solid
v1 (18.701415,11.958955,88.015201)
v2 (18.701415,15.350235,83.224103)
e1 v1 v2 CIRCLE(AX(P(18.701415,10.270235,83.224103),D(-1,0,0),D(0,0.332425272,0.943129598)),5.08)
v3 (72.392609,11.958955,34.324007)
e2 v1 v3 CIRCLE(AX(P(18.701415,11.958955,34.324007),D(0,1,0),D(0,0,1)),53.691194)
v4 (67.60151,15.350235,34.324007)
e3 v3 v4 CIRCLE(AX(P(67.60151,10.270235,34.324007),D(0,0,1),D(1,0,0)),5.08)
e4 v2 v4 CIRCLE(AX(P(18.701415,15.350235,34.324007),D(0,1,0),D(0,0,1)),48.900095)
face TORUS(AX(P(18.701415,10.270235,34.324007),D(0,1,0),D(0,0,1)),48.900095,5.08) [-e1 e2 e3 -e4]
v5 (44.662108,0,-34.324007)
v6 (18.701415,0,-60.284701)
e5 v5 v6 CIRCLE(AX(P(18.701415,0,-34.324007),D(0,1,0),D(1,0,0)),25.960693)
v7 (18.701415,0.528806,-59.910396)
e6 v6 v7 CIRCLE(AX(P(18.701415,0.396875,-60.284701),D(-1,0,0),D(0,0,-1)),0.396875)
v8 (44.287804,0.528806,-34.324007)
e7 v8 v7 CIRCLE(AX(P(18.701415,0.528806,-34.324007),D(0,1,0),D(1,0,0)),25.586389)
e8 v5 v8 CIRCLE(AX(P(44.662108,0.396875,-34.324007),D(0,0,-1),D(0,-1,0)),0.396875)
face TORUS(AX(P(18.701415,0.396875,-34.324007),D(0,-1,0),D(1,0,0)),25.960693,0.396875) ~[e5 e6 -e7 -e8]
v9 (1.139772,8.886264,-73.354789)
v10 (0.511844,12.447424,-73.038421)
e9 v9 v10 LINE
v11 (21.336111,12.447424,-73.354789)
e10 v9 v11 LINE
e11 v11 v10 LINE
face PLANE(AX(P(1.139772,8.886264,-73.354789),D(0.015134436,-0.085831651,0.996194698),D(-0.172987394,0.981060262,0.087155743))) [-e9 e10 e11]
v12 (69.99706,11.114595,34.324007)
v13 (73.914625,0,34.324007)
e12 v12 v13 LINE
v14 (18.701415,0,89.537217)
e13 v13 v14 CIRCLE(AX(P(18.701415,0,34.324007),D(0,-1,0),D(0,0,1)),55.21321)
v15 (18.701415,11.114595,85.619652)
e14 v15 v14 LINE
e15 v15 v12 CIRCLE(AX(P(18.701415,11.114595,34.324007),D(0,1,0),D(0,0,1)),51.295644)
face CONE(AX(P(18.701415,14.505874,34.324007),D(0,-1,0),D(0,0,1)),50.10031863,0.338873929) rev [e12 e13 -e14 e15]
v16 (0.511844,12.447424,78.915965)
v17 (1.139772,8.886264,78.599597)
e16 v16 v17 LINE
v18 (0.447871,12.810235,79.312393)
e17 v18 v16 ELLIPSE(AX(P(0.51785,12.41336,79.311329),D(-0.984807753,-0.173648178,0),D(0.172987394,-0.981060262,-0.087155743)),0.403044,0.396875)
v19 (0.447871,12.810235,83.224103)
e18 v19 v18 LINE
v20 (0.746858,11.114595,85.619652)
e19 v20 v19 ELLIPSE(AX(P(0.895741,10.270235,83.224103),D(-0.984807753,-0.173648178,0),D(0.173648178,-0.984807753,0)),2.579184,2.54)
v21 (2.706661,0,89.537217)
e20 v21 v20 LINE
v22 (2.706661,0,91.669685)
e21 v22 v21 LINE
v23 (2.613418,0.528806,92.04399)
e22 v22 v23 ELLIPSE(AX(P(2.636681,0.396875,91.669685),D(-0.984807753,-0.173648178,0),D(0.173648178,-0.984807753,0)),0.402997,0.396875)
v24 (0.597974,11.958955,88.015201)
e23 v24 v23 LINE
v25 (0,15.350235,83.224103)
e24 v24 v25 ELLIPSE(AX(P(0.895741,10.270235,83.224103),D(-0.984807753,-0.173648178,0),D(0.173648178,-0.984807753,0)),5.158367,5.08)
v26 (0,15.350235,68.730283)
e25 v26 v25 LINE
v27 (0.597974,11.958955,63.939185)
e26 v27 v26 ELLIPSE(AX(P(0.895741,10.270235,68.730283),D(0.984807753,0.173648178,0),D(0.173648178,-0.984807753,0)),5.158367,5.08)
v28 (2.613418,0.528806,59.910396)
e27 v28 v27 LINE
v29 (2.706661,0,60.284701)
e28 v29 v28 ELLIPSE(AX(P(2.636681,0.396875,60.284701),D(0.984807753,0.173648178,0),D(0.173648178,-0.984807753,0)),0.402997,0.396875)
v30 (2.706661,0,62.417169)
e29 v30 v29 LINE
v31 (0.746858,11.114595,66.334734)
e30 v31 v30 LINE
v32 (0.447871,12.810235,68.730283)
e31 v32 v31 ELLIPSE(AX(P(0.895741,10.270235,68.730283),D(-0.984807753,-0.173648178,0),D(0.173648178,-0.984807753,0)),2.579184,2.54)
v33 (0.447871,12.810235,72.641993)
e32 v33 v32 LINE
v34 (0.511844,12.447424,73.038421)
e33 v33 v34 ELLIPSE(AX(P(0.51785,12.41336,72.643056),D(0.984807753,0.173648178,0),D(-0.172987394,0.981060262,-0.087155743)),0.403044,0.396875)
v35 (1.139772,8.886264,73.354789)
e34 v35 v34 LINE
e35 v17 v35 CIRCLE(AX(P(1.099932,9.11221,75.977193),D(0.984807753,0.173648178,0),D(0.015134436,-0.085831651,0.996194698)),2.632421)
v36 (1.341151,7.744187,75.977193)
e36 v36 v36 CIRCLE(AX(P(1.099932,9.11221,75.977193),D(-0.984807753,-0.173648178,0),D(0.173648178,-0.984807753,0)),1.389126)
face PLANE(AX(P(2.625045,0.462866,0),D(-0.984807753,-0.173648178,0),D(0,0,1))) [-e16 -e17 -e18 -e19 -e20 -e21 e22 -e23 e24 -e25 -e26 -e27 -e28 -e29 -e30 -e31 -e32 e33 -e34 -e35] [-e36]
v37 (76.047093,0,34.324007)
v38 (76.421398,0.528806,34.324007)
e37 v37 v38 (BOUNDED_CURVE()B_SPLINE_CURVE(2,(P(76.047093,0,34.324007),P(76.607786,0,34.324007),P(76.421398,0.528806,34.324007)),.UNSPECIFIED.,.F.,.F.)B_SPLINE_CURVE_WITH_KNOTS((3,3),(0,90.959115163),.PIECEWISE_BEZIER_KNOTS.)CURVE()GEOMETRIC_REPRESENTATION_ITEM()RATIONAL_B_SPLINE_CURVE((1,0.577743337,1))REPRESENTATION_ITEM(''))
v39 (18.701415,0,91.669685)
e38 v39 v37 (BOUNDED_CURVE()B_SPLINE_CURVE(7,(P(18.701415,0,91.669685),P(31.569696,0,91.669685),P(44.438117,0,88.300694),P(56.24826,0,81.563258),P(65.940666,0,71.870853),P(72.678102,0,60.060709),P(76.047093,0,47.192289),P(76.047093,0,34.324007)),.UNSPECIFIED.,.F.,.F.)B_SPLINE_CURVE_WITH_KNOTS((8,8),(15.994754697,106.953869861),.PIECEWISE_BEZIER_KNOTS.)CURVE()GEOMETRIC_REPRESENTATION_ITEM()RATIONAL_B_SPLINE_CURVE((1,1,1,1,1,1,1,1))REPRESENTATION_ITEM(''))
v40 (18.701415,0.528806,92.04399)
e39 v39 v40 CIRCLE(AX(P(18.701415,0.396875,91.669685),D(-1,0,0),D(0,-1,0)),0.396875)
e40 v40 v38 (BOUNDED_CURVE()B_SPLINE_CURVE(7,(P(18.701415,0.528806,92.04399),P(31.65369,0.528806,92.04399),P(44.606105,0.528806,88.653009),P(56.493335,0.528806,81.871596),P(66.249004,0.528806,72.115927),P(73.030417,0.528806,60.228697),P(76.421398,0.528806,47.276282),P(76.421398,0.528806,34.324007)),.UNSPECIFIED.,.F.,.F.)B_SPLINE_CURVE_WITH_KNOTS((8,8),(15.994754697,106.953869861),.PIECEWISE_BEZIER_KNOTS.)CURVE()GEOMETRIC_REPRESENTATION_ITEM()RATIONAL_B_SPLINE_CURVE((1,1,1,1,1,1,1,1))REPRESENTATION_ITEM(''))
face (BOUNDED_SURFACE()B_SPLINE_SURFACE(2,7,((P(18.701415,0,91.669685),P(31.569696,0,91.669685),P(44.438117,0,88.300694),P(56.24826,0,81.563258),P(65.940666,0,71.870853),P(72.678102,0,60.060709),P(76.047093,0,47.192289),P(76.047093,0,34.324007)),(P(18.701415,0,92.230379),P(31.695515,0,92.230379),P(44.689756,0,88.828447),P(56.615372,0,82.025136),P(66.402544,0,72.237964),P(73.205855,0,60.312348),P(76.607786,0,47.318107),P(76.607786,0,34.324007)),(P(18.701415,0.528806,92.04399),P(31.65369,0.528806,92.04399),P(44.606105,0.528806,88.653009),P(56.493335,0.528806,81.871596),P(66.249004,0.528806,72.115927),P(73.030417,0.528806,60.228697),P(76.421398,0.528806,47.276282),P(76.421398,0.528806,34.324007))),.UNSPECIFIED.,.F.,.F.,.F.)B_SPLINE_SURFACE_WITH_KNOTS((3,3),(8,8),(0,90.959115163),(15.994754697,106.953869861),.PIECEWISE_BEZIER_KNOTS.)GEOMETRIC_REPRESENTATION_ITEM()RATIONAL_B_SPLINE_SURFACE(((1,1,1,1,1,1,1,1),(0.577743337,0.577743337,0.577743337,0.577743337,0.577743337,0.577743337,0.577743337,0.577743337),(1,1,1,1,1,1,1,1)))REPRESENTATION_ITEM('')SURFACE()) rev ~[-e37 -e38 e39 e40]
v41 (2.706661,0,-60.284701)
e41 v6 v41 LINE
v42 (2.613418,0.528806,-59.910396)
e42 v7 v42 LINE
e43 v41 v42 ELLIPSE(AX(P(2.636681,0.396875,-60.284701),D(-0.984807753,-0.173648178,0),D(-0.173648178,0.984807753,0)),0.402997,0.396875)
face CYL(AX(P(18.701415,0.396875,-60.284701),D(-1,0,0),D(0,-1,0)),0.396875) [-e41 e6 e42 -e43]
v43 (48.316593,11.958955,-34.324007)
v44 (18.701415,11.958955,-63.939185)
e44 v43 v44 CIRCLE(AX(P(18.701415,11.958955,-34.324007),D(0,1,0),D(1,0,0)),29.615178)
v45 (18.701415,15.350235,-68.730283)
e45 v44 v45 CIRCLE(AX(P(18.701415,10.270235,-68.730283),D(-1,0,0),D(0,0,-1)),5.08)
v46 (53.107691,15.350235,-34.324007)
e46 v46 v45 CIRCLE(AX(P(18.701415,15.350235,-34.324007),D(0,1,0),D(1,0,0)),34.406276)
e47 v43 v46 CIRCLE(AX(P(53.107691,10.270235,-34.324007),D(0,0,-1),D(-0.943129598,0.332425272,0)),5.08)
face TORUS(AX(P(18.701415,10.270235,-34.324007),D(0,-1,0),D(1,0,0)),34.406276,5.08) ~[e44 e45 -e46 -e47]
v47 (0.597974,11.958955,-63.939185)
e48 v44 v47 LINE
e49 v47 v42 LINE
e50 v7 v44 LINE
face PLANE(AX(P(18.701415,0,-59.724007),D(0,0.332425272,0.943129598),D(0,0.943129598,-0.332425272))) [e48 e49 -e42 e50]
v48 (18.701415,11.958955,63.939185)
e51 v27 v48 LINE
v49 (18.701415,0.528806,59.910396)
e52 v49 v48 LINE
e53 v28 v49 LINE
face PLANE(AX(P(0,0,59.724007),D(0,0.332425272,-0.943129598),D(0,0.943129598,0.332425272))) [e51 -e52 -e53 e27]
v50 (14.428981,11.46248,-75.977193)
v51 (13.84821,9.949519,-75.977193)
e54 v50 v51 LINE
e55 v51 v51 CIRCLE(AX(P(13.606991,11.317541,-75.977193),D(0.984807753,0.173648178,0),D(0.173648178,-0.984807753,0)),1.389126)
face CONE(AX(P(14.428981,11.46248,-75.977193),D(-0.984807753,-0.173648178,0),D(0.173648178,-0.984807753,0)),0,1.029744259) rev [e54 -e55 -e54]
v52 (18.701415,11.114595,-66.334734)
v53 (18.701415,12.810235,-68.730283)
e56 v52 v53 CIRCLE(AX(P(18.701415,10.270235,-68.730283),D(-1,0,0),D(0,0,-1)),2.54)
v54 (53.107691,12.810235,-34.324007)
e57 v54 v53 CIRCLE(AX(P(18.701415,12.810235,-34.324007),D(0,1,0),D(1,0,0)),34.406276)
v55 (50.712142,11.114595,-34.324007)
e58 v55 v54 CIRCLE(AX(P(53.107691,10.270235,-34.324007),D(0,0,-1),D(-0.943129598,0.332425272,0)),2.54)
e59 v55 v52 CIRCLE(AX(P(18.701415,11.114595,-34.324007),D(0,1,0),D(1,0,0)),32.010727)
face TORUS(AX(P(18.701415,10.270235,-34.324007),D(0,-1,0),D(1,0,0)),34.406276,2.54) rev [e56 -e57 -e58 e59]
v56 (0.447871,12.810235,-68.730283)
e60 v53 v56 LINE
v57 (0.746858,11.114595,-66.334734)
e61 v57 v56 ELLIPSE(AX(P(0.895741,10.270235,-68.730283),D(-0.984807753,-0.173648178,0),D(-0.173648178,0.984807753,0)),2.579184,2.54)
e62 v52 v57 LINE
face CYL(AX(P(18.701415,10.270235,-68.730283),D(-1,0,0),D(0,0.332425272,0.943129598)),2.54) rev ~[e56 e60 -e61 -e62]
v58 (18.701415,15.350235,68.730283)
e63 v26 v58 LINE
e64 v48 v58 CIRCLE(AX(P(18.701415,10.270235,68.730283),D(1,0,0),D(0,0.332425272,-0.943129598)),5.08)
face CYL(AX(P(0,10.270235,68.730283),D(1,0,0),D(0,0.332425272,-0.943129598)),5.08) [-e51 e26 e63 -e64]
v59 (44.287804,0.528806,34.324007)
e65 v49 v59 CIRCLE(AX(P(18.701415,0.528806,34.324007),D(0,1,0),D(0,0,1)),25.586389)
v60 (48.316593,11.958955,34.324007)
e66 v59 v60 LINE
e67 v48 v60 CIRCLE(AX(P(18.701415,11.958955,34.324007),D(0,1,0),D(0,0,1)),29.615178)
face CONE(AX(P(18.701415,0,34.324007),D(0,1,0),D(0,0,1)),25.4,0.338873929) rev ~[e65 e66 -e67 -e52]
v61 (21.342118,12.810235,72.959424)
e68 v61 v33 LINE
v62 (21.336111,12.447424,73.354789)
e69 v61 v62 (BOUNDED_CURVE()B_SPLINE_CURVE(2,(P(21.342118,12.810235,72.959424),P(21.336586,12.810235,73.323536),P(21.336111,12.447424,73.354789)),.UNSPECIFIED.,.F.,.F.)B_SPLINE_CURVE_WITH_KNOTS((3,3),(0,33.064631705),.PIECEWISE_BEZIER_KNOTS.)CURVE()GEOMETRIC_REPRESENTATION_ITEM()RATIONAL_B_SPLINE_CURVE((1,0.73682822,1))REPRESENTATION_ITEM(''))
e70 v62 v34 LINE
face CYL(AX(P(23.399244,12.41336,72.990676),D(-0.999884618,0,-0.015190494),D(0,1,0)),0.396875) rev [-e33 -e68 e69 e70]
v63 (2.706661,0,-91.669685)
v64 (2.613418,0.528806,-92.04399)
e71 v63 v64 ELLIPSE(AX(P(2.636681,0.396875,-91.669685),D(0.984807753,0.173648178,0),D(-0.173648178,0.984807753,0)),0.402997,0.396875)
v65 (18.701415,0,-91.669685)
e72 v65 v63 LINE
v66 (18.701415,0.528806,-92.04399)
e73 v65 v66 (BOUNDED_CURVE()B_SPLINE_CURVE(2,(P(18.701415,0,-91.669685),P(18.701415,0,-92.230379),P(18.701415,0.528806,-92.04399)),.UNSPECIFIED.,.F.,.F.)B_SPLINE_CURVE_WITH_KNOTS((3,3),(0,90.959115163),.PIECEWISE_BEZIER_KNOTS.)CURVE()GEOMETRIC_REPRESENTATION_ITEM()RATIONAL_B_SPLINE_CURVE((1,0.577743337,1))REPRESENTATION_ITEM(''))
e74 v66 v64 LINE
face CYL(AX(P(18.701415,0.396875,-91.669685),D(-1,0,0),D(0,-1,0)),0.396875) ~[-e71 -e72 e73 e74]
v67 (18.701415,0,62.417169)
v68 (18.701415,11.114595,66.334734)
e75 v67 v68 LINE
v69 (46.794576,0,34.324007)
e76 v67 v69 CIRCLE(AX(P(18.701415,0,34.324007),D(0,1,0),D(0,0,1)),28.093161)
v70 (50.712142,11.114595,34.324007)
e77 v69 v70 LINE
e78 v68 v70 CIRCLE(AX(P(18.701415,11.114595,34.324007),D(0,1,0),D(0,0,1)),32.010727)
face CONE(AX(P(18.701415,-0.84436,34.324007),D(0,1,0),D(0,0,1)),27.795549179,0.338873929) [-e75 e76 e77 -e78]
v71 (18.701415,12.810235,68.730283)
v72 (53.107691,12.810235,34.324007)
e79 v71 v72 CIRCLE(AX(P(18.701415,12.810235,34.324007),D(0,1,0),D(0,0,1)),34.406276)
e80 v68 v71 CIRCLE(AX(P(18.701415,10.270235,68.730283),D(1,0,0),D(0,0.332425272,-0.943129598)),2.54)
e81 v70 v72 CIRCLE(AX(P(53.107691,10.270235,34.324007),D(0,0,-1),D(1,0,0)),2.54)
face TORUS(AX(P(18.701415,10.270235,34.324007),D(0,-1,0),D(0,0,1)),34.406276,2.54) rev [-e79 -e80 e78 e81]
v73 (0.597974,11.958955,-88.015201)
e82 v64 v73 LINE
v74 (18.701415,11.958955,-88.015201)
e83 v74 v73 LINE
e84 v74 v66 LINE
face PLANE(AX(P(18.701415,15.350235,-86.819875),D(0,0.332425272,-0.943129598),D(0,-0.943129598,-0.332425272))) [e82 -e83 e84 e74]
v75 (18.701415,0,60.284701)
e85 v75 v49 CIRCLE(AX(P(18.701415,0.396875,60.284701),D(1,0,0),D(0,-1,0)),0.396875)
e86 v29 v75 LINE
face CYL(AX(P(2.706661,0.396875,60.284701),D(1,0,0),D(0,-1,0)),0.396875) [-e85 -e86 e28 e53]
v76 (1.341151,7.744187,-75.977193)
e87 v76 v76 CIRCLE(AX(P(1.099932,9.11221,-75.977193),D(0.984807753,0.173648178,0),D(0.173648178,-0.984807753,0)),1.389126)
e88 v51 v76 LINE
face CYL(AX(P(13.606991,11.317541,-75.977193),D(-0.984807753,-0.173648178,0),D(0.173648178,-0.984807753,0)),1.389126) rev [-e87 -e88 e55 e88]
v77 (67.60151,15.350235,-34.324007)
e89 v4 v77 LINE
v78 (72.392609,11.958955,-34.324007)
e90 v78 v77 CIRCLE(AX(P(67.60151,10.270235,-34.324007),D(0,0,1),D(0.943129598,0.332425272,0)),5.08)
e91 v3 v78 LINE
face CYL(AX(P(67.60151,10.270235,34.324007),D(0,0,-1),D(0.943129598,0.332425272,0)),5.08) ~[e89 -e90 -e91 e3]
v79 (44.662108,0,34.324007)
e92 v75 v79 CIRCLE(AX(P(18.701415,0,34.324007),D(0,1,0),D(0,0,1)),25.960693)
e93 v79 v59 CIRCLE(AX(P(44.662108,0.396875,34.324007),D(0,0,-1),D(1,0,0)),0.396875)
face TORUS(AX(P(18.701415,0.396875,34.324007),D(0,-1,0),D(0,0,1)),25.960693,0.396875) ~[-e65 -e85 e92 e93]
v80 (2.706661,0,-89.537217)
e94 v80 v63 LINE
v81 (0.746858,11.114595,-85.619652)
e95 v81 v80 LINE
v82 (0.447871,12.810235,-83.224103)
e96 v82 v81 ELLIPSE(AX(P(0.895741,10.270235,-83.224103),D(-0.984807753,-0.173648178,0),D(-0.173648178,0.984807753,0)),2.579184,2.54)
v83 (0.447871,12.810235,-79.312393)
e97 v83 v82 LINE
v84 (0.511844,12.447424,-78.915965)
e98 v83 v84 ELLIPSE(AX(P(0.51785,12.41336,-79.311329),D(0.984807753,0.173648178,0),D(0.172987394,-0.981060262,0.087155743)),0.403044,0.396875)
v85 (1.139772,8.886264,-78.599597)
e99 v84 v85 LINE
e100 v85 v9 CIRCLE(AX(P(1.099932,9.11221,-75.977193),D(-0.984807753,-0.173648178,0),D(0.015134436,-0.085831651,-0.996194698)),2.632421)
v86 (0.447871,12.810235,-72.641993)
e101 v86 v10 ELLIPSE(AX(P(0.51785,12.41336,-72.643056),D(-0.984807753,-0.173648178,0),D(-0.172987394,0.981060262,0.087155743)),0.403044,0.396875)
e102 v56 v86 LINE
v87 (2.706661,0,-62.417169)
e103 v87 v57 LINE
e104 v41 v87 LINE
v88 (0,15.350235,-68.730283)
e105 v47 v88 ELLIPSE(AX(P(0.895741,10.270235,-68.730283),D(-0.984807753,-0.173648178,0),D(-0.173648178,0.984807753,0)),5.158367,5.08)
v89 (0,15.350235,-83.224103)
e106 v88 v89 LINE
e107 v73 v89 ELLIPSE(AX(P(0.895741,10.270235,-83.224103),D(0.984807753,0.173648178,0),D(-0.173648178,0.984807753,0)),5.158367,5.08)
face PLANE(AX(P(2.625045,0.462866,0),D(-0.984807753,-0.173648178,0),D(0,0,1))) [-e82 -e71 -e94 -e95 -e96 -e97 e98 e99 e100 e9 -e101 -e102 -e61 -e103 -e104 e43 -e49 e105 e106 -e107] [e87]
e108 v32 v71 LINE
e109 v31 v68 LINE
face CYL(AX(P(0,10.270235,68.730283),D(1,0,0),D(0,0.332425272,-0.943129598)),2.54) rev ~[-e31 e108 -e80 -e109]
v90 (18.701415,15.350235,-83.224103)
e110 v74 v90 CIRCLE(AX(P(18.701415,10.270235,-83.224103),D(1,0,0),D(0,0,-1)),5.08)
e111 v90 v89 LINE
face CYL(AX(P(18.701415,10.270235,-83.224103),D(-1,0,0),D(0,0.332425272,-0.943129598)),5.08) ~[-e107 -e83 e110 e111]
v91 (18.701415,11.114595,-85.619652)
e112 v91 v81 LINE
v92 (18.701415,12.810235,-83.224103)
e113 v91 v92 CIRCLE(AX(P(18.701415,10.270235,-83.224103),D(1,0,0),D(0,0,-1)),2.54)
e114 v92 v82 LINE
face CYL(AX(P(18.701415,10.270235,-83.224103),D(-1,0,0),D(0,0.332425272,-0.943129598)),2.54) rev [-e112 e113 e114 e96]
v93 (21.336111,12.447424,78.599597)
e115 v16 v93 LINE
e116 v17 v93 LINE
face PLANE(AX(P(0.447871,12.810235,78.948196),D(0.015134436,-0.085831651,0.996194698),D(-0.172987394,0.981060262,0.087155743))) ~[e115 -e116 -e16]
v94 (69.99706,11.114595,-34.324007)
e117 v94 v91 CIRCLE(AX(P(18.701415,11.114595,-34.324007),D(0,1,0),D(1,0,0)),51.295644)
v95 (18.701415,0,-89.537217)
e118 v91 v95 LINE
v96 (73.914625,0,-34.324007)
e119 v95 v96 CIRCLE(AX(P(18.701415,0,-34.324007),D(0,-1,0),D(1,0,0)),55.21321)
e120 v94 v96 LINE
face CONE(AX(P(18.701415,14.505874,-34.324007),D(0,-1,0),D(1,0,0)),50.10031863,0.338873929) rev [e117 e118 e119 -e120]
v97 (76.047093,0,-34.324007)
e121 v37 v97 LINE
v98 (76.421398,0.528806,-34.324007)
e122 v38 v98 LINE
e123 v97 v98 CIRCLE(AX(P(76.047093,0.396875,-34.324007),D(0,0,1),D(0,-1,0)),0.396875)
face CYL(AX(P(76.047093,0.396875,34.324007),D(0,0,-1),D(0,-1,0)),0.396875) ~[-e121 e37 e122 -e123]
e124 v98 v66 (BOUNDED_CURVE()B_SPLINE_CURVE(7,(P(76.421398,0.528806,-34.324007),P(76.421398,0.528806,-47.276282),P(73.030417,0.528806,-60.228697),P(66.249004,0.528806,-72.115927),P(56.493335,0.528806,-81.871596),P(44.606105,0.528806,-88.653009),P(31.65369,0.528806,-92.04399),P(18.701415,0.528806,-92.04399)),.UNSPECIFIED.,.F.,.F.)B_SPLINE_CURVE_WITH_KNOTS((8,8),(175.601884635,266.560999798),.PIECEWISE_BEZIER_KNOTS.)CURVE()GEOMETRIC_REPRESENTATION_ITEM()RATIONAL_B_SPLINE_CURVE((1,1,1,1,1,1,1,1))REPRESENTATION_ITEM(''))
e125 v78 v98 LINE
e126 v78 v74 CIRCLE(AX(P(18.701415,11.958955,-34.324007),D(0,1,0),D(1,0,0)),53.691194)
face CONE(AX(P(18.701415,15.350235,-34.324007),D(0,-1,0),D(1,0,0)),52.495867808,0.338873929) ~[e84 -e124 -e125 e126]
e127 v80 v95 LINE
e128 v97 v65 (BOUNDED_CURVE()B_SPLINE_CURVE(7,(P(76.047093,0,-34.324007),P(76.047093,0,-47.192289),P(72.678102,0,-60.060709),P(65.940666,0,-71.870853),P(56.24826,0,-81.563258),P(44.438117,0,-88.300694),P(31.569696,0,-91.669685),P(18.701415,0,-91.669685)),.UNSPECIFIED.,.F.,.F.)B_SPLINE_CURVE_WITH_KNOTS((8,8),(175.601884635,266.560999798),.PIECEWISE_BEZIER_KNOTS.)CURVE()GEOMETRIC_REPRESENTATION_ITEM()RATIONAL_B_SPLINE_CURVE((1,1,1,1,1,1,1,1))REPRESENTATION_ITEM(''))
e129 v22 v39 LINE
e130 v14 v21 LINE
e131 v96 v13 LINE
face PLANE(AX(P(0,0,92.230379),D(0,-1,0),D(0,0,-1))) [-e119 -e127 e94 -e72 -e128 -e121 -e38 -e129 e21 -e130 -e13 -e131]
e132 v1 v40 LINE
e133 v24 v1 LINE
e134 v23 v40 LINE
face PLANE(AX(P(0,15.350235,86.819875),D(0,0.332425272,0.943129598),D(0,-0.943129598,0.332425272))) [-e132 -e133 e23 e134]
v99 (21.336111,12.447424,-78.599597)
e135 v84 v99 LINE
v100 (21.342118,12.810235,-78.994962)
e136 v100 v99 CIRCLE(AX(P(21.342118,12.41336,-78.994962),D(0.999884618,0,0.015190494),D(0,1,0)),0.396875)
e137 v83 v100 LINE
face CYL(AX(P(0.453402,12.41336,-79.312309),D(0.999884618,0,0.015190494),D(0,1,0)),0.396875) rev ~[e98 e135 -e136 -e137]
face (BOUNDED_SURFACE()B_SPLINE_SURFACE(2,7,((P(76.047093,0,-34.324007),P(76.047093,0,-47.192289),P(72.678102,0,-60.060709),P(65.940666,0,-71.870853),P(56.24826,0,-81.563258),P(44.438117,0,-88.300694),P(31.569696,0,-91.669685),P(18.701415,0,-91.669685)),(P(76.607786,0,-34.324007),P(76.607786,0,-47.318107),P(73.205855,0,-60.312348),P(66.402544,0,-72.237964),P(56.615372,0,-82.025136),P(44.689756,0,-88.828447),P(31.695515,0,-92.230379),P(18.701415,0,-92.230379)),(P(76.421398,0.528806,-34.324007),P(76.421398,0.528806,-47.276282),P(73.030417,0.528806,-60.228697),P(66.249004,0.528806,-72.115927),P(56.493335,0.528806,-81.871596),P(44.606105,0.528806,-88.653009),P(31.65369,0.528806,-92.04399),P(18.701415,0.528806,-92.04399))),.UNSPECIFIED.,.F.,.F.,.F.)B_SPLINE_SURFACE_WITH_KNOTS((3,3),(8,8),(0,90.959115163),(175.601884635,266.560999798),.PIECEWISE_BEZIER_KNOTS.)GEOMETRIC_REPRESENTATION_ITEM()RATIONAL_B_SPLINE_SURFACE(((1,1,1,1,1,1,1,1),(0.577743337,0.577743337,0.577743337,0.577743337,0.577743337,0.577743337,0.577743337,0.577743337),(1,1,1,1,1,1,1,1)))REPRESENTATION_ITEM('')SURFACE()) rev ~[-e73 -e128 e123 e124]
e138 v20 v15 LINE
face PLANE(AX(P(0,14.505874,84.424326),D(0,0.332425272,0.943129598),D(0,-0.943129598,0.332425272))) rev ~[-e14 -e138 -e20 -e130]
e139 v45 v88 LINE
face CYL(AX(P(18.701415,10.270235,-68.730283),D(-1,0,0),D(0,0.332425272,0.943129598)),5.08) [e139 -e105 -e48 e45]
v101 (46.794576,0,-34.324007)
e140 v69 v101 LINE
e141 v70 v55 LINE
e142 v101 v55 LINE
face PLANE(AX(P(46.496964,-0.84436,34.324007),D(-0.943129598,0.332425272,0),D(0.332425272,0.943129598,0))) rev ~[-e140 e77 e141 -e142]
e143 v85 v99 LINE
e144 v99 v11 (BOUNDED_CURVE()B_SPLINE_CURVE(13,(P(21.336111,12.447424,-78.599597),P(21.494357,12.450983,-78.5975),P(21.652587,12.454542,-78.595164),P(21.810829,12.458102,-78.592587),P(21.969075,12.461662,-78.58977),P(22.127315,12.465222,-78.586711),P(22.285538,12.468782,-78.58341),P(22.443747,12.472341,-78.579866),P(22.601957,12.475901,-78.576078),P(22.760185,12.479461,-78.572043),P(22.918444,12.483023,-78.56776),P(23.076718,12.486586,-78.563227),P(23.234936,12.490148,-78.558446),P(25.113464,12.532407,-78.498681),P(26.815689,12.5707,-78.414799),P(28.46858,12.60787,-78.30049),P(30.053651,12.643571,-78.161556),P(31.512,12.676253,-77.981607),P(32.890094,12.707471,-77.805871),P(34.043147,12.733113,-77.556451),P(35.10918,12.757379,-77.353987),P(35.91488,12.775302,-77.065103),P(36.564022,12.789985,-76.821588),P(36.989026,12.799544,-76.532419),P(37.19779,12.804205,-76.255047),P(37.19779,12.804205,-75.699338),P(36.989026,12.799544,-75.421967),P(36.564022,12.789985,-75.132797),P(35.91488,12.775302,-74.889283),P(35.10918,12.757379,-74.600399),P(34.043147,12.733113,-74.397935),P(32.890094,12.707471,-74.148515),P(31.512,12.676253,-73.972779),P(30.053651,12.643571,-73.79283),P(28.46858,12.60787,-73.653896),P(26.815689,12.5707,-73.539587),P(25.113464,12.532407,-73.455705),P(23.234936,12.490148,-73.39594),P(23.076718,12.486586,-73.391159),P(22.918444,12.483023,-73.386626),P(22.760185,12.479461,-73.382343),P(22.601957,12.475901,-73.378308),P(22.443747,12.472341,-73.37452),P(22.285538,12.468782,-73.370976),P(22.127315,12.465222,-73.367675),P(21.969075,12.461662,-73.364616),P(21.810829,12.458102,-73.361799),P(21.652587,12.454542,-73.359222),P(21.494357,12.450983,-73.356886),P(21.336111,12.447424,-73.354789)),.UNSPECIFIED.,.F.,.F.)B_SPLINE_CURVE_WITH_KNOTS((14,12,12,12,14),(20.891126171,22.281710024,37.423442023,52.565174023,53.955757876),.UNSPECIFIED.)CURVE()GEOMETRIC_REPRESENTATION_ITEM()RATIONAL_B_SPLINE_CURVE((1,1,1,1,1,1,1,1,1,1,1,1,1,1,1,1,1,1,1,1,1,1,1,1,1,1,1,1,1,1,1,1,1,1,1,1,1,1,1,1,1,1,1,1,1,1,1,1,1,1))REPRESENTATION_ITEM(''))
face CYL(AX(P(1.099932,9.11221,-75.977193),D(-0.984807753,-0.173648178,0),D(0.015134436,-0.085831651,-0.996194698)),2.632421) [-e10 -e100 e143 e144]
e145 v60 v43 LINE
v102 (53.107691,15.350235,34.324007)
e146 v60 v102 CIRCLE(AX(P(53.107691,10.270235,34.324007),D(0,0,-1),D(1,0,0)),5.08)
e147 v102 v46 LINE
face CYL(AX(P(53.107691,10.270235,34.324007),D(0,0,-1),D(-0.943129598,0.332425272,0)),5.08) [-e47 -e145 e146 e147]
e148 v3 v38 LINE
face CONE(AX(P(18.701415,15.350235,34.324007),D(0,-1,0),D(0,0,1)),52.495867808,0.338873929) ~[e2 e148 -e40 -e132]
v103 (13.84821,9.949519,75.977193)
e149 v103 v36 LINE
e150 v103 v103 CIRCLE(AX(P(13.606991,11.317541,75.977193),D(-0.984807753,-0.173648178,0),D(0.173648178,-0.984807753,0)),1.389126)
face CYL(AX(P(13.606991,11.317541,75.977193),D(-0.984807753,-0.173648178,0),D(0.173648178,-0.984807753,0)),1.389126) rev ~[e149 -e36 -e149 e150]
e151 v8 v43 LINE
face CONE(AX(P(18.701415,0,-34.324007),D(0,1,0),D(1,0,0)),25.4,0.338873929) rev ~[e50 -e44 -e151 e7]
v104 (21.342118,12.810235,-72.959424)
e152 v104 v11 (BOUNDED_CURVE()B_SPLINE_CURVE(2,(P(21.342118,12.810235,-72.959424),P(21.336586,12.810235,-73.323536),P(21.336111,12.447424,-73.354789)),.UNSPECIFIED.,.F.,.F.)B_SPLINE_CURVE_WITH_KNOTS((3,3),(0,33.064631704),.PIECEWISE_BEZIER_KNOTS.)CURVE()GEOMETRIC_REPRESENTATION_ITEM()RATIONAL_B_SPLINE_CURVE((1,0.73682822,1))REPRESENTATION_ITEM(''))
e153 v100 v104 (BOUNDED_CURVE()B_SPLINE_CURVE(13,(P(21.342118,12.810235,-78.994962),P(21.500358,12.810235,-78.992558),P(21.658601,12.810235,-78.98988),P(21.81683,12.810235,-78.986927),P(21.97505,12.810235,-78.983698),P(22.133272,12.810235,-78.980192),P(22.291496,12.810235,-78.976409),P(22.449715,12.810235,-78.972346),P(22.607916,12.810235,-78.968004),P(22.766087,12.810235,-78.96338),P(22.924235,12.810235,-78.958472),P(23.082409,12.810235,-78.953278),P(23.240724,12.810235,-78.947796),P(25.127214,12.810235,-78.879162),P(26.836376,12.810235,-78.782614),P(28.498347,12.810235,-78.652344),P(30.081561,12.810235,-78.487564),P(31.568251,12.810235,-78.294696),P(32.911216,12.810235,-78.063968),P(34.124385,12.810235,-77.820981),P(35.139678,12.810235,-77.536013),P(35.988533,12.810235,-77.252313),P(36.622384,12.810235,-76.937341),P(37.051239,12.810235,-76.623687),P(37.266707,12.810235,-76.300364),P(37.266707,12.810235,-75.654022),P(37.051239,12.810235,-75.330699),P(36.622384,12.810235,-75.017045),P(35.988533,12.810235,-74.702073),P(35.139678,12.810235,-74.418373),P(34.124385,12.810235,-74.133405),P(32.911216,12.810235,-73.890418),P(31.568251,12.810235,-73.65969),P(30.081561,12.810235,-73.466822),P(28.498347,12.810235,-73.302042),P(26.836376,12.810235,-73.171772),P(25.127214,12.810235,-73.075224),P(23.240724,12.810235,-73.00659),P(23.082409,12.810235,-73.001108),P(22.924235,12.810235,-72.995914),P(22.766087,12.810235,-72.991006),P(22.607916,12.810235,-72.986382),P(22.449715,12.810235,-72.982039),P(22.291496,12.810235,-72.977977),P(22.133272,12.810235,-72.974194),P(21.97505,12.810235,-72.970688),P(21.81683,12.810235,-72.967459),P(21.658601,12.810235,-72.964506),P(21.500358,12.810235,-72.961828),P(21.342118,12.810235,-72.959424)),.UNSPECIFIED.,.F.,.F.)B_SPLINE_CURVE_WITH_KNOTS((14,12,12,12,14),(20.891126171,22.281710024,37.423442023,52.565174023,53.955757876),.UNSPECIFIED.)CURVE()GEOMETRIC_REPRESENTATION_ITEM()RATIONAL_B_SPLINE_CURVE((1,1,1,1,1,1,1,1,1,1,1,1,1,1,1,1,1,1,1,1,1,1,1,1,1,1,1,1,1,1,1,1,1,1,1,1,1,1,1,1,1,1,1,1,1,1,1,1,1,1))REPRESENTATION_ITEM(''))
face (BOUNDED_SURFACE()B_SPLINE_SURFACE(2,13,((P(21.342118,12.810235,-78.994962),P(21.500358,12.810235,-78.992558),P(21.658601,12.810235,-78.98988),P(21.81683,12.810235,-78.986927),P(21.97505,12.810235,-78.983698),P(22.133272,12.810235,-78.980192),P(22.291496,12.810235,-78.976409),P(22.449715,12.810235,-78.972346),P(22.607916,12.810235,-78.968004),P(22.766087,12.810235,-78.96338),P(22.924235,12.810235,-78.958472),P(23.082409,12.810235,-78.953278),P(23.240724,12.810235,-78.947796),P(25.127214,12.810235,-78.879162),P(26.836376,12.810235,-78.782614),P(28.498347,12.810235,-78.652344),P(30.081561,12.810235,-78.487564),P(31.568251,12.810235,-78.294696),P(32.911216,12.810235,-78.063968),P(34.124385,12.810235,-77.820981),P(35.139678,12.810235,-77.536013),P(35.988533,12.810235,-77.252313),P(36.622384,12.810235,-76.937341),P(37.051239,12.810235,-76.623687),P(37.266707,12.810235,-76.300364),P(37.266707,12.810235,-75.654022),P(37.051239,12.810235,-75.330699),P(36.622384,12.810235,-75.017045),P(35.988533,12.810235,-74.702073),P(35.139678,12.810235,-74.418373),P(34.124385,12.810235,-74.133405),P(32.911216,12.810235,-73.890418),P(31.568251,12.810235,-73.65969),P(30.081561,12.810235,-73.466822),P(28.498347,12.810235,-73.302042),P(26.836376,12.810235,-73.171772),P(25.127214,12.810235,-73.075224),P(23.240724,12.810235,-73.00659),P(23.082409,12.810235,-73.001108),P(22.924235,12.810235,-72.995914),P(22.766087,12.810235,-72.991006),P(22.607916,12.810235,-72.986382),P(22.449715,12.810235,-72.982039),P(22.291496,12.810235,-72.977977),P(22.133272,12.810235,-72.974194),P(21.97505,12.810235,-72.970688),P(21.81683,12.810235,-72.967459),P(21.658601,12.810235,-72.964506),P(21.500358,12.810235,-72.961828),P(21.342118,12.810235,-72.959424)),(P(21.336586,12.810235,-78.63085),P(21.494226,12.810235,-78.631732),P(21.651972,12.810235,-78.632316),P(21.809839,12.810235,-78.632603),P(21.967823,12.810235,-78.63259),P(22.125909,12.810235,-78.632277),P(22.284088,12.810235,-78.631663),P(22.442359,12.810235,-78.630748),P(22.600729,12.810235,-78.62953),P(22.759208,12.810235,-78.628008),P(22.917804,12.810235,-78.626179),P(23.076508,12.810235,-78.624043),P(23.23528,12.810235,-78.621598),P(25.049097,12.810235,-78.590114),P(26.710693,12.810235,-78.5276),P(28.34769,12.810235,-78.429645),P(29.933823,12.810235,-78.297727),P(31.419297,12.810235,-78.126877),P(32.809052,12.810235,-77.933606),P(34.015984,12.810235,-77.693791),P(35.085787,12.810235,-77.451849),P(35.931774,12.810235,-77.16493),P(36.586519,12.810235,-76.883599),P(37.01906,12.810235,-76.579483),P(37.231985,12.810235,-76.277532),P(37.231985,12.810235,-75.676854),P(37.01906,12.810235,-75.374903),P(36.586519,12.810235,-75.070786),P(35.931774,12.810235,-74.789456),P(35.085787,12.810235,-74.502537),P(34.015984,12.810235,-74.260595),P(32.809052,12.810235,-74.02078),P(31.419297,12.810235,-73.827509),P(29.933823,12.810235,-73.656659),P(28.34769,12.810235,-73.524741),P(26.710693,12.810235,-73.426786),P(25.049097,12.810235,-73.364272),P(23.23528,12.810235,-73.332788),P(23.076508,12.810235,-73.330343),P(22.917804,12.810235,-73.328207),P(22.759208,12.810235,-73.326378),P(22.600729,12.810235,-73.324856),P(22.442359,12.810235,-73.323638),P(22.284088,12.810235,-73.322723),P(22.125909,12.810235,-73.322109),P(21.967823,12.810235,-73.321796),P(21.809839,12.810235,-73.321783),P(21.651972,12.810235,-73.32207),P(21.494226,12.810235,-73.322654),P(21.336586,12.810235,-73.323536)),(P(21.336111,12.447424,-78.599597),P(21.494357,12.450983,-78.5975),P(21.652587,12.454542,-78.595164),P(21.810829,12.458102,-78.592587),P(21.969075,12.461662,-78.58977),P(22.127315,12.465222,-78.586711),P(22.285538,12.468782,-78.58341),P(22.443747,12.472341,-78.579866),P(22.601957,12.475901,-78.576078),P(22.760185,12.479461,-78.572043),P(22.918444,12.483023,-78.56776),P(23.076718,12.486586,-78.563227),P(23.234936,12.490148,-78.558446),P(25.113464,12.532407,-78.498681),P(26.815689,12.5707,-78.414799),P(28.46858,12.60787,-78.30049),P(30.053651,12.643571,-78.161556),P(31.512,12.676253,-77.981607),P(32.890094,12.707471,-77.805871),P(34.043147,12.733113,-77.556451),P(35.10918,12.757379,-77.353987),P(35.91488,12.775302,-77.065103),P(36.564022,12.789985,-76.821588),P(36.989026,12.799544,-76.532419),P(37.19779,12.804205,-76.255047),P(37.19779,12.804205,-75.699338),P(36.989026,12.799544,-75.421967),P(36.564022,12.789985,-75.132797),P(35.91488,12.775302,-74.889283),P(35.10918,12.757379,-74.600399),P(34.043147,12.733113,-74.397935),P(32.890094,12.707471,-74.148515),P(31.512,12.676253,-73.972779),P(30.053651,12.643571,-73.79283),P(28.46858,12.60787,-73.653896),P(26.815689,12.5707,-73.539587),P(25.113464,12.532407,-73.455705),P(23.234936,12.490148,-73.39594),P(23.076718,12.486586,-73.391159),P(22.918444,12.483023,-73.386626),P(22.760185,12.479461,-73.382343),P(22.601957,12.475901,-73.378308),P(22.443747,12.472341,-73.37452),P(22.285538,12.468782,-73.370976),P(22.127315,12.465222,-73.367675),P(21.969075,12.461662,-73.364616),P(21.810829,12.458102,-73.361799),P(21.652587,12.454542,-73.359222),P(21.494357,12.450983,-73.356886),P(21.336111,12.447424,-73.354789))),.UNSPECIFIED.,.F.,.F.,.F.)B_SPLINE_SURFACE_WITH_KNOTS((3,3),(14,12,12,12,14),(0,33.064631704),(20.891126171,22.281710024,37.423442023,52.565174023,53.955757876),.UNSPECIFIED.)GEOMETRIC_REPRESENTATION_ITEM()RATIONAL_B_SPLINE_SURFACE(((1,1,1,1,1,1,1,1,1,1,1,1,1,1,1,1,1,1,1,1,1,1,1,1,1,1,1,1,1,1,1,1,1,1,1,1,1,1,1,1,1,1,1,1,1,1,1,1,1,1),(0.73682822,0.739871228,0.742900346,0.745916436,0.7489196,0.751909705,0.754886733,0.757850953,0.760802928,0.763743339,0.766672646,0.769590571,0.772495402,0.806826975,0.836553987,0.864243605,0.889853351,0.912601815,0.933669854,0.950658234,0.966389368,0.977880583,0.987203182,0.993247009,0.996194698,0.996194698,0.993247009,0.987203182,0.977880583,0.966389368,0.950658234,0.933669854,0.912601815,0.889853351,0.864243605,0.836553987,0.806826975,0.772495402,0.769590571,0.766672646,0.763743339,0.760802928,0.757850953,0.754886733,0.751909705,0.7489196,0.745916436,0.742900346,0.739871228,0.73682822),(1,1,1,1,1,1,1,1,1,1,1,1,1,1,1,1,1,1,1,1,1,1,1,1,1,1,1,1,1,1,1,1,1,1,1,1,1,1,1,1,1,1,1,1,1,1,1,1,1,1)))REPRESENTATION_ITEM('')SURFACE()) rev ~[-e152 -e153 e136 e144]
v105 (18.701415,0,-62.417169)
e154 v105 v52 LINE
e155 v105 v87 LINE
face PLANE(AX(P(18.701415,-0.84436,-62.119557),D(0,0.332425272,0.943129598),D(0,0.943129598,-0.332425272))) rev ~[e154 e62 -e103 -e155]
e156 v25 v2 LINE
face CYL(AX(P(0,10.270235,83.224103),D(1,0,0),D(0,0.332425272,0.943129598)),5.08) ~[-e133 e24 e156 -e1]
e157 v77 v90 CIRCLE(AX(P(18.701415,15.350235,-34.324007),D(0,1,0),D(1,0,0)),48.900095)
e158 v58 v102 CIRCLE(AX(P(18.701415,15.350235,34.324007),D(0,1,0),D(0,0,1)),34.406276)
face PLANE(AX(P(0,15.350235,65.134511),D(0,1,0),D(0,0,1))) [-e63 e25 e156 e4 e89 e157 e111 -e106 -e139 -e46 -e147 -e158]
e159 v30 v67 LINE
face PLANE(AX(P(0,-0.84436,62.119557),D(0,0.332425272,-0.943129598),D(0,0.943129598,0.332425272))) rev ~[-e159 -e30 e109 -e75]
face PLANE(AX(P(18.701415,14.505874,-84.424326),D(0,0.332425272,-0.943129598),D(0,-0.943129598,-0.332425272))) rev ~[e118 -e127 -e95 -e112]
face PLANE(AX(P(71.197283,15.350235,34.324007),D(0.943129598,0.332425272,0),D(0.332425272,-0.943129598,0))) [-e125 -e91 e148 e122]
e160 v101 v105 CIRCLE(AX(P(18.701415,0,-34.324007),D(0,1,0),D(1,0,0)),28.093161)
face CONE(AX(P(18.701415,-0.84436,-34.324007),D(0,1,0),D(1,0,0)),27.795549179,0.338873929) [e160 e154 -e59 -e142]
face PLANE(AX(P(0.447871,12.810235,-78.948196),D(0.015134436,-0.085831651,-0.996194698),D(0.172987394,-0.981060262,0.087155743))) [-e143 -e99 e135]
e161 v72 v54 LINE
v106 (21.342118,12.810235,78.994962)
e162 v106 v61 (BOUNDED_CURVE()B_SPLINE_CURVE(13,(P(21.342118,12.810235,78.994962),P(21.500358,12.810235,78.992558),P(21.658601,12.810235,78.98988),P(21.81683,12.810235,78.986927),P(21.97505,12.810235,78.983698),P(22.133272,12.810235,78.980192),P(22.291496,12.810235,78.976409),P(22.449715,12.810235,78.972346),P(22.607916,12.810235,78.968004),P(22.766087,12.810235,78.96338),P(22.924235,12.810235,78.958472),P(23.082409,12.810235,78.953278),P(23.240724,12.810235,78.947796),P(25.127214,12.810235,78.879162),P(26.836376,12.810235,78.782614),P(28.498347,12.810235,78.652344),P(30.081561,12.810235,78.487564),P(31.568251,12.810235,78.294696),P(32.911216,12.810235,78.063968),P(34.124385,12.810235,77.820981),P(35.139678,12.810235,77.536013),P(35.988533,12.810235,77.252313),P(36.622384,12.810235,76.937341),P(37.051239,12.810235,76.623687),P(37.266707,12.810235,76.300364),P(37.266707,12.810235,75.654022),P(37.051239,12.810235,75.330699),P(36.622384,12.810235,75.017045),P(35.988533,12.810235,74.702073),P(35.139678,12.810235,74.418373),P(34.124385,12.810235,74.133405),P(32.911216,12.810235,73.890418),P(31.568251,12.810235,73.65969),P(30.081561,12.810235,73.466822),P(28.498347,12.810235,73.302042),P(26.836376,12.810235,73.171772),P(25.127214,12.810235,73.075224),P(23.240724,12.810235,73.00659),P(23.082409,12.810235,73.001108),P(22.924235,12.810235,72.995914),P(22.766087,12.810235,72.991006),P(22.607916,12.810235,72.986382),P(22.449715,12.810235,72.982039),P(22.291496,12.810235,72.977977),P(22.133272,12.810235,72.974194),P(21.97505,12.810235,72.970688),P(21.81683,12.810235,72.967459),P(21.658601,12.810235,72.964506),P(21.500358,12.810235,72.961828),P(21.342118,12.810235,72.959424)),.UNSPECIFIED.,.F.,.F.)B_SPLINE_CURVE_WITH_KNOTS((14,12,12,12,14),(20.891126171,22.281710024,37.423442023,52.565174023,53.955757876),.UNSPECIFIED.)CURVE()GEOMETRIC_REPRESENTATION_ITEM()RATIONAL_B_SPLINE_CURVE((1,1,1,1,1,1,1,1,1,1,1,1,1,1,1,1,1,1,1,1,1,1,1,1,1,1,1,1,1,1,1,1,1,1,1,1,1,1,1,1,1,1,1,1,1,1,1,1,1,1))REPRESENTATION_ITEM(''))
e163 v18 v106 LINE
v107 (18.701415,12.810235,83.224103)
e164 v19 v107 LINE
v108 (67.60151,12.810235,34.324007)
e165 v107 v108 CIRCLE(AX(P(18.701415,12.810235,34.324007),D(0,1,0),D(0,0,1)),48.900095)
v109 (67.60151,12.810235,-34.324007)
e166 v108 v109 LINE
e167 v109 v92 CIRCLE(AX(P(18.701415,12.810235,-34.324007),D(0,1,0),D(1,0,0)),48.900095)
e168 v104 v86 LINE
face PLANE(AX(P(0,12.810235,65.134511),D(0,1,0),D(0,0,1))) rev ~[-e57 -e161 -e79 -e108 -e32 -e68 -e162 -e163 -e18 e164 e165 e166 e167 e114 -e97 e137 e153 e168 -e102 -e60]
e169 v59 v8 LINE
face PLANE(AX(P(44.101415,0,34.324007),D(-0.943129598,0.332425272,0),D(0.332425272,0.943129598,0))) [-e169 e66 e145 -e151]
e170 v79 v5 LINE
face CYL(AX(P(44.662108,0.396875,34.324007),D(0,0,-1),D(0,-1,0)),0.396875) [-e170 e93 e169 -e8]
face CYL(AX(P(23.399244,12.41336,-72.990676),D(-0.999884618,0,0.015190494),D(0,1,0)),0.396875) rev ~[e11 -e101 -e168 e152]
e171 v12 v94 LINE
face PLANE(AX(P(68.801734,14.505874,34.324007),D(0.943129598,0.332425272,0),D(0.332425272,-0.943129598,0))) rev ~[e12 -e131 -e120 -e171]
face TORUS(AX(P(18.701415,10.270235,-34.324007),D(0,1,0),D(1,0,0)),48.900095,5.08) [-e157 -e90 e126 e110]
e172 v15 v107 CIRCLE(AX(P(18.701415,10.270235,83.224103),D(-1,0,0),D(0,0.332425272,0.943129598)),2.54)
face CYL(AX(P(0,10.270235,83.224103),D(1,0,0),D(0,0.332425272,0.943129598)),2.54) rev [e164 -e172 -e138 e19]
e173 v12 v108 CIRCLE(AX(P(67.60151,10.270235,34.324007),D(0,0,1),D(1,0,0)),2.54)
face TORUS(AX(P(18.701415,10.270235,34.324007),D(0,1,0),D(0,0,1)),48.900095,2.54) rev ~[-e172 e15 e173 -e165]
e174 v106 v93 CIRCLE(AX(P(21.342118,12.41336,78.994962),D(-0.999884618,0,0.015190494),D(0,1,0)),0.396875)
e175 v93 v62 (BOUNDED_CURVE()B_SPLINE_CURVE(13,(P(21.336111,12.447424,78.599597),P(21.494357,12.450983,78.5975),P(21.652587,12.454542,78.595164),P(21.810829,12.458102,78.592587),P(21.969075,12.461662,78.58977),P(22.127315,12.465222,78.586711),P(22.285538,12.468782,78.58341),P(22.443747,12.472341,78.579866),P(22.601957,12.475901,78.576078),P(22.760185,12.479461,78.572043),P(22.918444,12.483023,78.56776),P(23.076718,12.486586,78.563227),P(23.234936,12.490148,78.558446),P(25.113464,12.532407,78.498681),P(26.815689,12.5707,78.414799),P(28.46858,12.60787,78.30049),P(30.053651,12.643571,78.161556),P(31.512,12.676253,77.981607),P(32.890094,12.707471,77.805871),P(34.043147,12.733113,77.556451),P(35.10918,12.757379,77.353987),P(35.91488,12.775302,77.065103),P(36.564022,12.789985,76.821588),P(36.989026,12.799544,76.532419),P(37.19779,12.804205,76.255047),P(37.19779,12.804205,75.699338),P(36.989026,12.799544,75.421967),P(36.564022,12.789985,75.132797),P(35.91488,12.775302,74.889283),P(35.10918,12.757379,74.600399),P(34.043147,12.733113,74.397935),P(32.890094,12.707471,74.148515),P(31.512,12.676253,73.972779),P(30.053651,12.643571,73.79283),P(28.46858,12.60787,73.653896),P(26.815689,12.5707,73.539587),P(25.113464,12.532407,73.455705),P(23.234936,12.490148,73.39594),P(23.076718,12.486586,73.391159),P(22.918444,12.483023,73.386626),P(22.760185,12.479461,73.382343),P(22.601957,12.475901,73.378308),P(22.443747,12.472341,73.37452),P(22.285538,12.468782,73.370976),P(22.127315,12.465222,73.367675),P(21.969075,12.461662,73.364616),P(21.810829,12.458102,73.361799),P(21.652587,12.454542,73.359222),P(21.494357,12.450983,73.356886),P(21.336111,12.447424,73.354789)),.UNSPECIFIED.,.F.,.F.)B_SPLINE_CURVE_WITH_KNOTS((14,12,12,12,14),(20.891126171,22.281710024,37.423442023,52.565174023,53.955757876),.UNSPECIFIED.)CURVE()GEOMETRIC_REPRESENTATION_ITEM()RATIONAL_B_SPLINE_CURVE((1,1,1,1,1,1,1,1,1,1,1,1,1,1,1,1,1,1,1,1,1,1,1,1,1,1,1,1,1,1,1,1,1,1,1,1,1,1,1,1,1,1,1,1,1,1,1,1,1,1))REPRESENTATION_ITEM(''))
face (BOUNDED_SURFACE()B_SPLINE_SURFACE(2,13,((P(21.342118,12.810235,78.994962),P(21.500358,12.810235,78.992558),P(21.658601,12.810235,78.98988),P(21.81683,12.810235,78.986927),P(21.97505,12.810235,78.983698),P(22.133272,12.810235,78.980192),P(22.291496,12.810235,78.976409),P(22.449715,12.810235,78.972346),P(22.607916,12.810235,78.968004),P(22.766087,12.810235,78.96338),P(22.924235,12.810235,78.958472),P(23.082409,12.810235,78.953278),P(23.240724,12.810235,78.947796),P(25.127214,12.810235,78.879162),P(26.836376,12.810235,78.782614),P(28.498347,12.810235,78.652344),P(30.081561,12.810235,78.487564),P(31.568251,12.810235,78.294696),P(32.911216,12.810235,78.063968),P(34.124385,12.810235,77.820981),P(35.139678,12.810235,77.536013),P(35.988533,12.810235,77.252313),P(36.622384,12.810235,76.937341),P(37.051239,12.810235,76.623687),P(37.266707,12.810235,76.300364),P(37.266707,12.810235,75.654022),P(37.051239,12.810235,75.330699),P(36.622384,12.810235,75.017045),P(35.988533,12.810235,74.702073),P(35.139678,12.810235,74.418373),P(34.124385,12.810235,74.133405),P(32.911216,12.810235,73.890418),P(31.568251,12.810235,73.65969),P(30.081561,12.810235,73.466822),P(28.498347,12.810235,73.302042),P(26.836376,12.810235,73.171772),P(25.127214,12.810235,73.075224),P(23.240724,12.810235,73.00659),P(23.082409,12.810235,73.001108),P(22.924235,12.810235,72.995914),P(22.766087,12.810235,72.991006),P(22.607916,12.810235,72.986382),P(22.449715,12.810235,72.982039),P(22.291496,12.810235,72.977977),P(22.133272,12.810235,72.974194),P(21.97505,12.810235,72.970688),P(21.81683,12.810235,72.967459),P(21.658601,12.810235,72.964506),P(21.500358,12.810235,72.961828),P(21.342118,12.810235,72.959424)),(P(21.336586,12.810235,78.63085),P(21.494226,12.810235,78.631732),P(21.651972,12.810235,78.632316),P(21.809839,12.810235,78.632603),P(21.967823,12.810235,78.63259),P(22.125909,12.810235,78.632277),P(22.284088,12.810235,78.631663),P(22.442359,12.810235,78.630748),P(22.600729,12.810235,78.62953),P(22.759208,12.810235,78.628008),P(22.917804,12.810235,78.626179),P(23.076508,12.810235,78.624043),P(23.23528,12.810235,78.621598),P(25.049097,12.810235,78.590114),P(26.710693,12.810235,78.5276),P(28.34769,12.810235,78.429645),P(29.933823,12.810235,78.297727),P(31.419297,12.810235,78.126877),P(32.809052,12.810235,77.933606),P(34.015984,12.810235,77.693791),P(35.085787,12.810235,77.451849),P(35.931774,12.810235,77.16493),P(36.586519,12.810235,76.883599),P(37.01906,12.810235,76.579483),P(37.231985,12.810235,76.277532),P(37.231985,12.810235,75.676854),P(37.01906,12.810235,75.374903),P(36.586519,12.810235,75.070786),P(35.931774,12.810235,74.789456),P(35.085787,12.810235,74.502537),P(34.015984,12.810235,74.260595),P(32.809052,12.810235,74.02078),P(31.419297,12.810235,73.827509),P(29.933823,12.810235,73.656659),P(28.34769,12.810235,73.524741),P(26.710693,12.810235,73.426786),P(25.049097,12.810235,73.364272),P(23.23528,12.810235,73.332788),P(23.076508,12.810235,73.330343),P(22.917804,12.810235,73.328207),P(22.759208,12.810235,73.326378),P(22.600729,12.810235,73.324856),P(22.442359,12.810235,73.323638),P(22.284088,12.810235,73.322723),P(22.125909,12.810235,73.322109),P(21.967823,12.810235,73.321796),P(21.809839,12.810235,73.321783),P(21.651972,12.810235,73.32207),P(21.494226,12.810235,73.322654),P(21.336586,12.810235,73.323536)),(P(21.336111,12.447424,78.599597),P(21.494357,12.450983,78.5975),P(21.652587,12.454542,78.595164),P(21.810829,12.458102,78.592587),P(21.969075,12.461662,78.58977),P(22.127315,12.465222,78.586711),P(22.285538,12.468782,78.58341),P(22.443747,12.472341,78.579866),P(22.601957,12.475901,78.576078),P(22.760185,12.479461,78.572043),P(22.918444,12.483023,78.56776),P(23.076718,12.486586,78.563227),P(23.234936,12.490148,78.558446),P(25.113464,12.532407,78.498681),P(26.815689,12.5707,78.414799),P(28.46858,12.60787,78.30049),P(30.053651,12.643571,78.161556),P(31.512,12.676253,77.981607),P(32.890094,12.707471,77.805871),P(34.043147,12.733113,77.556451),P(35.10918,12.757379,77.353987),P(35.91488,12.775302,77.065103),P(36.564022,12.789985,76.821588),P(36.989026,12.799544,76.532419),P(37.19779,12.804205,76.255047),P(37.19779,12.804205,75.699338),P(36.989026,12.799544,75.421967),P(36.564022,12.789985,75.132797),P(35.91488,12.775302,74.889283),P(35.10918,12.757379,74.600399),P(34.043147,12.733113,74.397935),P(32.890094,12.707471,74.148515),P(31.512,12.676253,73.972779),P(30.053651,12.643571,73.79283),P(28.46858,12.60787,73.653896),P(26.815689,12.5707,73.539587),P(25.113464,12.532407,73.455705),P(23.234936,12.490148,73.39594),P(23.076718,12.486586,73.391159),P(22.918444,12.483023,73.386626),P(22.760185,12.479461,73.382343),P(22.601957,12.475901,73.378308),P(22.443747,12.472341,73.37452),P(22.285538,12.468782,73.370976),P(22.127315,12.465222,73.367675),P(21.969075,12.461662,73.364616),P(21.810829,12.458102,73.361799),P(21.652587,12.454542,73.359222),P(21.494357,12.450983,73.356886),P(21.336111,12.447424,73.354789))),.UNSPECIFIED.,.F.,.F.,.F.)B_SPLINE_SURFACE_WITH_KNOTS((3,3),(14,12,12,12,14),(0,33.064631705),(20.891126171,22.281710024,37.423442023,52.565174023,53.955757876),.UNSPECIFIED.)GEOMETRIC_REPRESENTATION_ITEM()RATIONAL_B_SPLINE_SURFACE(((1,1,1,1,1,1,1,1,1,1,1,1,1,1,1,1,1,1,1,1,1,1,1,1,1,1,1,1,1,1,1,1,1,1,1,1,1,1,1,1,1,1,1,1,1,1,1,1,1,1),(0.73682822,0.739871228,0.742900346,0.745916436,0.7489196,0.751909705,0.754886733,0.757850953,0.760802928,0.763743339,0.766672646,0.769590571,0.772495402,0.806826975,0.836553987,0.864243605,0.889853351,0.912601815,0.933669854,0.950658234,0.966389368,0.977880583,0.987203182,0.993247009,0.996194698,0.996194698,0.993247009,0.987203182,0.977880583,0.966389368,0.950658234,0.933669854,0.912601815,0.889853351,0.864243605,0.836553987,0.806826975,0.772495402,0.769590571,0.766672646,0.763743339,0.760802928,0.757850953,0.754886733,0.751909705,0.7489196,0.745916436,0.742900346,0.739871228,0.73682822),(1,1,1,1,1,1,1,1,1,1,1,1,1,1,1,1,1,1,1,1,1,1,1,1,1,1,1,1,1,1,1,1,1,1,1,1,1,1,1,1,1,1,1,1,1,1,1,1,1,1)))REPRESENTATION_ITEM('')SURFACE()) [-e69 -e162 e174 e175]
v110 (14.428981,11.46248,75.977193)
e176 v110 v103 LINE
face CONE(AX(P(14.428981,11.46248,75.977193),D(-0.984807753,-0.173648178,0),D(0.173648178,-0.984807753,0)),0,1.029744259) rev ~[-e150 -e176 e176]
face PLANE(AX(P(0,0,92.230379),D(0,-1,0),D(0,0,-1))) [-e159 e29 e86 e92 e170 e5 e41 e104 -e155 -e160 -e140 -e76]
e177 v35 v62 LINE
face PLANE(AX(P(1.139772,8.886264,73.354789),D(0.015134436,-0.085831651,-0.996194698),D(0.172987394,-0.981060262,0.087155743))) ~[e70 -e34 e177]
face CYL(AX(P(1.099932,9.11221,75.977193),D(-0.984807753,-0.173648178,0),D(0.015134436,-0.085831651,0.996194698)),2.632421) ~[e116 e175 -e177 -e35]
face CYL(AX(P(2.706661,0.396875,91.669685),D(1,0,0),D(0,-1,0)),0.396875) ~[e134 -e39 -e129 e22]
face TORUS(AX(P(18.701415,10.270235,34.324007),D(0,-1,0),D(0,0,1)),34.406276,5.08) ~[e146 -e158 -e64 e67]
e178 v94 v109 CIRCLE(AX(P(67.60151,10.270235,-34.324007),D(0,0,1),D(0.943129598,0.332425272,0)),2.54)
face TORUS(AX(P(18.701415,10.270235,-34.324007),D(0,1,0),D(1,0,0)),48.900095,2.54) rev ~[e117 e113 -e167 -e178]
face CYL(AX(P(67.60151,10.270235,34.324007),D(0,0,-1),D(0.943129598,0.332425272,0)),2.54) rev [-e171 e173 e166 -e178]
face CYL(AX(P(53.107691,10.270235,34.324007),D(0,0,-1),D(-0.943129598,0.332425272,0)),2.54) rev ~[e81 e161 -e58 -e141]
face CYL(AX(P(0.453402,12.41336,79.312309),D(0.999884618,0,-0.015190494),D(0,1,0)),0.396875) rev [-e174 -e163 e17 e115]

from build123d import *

# Parameters (mm, degrees)
FILLET1_R      = 5.08
SHELL1_T       = -2.54
EXTRUDE1_REACH = 121.17
FILLET2_R      = 0.396875


with BuildPart() as part:
    # Sweep1: sweep along a path in Sketch2
    with BuildLine(Plane(origin=(0, 0, 0), x_dir=(1, 0, 0), z_dir=(0, 1, 0))) as sweep1_path:
        Line((0, -59.724007387), (18.701415201, -59.724007387))
        ThreePointArc((18.701415201, -59.724007387), (36.661927443, -52.284519629), (44.101415201, -34.324007387))
        Line((44.101415201, -34.324007387), (44.101415201, 34.324007387))
        ThreePointArc((44.101415201, 34.324007387), (36.661927443, 52.284519629), (18.701415201, 59.724007387))
        Line((18.701415201, 59.724007387), (0, 59.724007387))
    # Sketch1 → Sweep1 (sweep)
    with BuildSketch(Plane(origin=(0, 0, 0), x_dir=(0, 0, -1), z_dir=(1, 0, 0))):
        Polygon((-92.230378578, 0), (-59.724007387, 0), (-65.134510769, 15.350234506), (-86.819875195, 15.350234506), align=None)
    sweep(path=sweep1_path.line)

    # SurfaceCut1
    split(bisect_by=Plane(origin=(2.625044703, 0.462866207, 0), x_dir=(0, 0, 1), z_dir=(-0.9848077530122041, -0.17364817766695276, 0)), keep=Keep.BOTTOM)

    # Fillet1
    fillet1_edges = [part.edges().sort_by_distance(p)[0] for p in [
        (55.821599313, 15.350234506, 71.444191499),
        (40.487731075, 15.350234506, 56.11032326),
        (71.19728301, 15.350234506, 0),
        (49.511918584, 15.350234506, 0),
        (55.821599313, 15.350234506, -71.444191499),
        (40.487731075, 15.350234506, -56.11032326),
        (9.350707601, 15.350234506, -86.819875195),
        (9.350707601, 15.350234506, -65.134510769),
        (9.350707601, 15.350234506, 86.819875195),
        (9.350707601, 15.350234506, 65.134510769),
    ]]
    fillet(fillet1_edges, radius=FILLET1_R)

    # Shell1
    shell1_openings = [part.faces().sort_by_distance(p)[0] for p in [
        (45.698397314, 0, 0),
        (1.458578097, 7.07822706, -75.977192982),
        (1.458578097, 7.07822706, 75.977192982),
    ]]
    offset(amount=SHELL1_T, openings=shell1_openings, kind=Kind.INTERSECTION)

    # Sketch4 → Extrude1 (add, up to next)
    with BuildSketch(Plane(origin=(2.625044703, 0.462866207, 0), x_dir=(0, 0, 1), z_dir=(-0.9848077530122041, -0.1736481776669528, 0)), mode=Mode.PRIVATE) as extrude1_sk1:
        with BuildLine():
            Line((-78.948196177, 12.537846358), (-78.59959728, 8.553342733))
            ThreePointArc((-78.59959728, 8.553342733), (-75.977192982, 6.150351924), (-73.354788685, 8.553342733))
            Line((-73.354788685, 8.553342733), (-73.006189788, 12.537846358))
            Line((-73.006189788, 12.537846358), (-78.948196177, 12.537846358))
        make_face()
    extrude1_tool1 = extrude(extrude1_sk1.sketch, amount=-EXTRUDE1_REACH, mode=Mode.PRIVATE) - part.part
    extrude1 = extrude1_tool1.solids().sort_by_distance((0.946808, 9.980618, -75.977193))[0]
    add(extrude1)

    # Sketch5 → 7/64 (0.10938) Diameter Hole1 (revolve, cut)
    with BuildSketch(Plane(origin=(1.099932111, 9.112209524, -75.977192982), x_dir=(0.1736481776669528, -0.9848077530122041, 0), z_dir=(0, 0, 1))):
        Polygon((0, 0), (0, 13.534671108), (1.389126, 12.7), (1.389126, 0), align=None)
    f_7_64_0_10938_diameter_hole1 = revolve(axis=Axis((-5.153597121, 8.009543596, -75.977192982), (0.9848077530122041, 0.17364817766695284, 0)), mode=Mode.SUBTRACT)

    # Mirror1: Extrude1, 7/64 (0.10938) Diameter Hole1 across plane
    add(extrude1.mirror(Plane.XY))
    add(f_7_64_0_10938_diameter_hole1.mirror(Plane.XY), mode=Mode.SUBTRACT)

    # Fillet2
    fillet2_edges = [part.edges().sort_by_distance(p)[0] for p in [
        (36.661927443, 0, 52.284519629),
        (59.647402944, 0, 75.26999513),
        (11.920791464, 12.810234506, -78.773896729),
        (11.920791464, 12.810234506, -73.180489236),
        (37.231090066, 12.810234506, -76.005795341),
        (11.920791464, 12.810234506, 78.773896729),
        (37.231090066, 12.810234506, 76.005795341),
        (11.920791464, 12.810234506, 73.180489236),
        (44.101415201, 0, 0),
        (76.607786392, 0, 0),
        (36.661927443, 0, -52.284519629),
        (59.647402944, 0, -75.26999513),
        (10.704037852, 0, -59.724007387),
        (10.704037852, 0, -92.230378578),
        (10.704037852, 0, 59.724007387),
        (10.704037852, 0, 92.230378578),
    ]]
    fillet(fillet2_edges, radius=FILLET2_R)


solid = part.part
